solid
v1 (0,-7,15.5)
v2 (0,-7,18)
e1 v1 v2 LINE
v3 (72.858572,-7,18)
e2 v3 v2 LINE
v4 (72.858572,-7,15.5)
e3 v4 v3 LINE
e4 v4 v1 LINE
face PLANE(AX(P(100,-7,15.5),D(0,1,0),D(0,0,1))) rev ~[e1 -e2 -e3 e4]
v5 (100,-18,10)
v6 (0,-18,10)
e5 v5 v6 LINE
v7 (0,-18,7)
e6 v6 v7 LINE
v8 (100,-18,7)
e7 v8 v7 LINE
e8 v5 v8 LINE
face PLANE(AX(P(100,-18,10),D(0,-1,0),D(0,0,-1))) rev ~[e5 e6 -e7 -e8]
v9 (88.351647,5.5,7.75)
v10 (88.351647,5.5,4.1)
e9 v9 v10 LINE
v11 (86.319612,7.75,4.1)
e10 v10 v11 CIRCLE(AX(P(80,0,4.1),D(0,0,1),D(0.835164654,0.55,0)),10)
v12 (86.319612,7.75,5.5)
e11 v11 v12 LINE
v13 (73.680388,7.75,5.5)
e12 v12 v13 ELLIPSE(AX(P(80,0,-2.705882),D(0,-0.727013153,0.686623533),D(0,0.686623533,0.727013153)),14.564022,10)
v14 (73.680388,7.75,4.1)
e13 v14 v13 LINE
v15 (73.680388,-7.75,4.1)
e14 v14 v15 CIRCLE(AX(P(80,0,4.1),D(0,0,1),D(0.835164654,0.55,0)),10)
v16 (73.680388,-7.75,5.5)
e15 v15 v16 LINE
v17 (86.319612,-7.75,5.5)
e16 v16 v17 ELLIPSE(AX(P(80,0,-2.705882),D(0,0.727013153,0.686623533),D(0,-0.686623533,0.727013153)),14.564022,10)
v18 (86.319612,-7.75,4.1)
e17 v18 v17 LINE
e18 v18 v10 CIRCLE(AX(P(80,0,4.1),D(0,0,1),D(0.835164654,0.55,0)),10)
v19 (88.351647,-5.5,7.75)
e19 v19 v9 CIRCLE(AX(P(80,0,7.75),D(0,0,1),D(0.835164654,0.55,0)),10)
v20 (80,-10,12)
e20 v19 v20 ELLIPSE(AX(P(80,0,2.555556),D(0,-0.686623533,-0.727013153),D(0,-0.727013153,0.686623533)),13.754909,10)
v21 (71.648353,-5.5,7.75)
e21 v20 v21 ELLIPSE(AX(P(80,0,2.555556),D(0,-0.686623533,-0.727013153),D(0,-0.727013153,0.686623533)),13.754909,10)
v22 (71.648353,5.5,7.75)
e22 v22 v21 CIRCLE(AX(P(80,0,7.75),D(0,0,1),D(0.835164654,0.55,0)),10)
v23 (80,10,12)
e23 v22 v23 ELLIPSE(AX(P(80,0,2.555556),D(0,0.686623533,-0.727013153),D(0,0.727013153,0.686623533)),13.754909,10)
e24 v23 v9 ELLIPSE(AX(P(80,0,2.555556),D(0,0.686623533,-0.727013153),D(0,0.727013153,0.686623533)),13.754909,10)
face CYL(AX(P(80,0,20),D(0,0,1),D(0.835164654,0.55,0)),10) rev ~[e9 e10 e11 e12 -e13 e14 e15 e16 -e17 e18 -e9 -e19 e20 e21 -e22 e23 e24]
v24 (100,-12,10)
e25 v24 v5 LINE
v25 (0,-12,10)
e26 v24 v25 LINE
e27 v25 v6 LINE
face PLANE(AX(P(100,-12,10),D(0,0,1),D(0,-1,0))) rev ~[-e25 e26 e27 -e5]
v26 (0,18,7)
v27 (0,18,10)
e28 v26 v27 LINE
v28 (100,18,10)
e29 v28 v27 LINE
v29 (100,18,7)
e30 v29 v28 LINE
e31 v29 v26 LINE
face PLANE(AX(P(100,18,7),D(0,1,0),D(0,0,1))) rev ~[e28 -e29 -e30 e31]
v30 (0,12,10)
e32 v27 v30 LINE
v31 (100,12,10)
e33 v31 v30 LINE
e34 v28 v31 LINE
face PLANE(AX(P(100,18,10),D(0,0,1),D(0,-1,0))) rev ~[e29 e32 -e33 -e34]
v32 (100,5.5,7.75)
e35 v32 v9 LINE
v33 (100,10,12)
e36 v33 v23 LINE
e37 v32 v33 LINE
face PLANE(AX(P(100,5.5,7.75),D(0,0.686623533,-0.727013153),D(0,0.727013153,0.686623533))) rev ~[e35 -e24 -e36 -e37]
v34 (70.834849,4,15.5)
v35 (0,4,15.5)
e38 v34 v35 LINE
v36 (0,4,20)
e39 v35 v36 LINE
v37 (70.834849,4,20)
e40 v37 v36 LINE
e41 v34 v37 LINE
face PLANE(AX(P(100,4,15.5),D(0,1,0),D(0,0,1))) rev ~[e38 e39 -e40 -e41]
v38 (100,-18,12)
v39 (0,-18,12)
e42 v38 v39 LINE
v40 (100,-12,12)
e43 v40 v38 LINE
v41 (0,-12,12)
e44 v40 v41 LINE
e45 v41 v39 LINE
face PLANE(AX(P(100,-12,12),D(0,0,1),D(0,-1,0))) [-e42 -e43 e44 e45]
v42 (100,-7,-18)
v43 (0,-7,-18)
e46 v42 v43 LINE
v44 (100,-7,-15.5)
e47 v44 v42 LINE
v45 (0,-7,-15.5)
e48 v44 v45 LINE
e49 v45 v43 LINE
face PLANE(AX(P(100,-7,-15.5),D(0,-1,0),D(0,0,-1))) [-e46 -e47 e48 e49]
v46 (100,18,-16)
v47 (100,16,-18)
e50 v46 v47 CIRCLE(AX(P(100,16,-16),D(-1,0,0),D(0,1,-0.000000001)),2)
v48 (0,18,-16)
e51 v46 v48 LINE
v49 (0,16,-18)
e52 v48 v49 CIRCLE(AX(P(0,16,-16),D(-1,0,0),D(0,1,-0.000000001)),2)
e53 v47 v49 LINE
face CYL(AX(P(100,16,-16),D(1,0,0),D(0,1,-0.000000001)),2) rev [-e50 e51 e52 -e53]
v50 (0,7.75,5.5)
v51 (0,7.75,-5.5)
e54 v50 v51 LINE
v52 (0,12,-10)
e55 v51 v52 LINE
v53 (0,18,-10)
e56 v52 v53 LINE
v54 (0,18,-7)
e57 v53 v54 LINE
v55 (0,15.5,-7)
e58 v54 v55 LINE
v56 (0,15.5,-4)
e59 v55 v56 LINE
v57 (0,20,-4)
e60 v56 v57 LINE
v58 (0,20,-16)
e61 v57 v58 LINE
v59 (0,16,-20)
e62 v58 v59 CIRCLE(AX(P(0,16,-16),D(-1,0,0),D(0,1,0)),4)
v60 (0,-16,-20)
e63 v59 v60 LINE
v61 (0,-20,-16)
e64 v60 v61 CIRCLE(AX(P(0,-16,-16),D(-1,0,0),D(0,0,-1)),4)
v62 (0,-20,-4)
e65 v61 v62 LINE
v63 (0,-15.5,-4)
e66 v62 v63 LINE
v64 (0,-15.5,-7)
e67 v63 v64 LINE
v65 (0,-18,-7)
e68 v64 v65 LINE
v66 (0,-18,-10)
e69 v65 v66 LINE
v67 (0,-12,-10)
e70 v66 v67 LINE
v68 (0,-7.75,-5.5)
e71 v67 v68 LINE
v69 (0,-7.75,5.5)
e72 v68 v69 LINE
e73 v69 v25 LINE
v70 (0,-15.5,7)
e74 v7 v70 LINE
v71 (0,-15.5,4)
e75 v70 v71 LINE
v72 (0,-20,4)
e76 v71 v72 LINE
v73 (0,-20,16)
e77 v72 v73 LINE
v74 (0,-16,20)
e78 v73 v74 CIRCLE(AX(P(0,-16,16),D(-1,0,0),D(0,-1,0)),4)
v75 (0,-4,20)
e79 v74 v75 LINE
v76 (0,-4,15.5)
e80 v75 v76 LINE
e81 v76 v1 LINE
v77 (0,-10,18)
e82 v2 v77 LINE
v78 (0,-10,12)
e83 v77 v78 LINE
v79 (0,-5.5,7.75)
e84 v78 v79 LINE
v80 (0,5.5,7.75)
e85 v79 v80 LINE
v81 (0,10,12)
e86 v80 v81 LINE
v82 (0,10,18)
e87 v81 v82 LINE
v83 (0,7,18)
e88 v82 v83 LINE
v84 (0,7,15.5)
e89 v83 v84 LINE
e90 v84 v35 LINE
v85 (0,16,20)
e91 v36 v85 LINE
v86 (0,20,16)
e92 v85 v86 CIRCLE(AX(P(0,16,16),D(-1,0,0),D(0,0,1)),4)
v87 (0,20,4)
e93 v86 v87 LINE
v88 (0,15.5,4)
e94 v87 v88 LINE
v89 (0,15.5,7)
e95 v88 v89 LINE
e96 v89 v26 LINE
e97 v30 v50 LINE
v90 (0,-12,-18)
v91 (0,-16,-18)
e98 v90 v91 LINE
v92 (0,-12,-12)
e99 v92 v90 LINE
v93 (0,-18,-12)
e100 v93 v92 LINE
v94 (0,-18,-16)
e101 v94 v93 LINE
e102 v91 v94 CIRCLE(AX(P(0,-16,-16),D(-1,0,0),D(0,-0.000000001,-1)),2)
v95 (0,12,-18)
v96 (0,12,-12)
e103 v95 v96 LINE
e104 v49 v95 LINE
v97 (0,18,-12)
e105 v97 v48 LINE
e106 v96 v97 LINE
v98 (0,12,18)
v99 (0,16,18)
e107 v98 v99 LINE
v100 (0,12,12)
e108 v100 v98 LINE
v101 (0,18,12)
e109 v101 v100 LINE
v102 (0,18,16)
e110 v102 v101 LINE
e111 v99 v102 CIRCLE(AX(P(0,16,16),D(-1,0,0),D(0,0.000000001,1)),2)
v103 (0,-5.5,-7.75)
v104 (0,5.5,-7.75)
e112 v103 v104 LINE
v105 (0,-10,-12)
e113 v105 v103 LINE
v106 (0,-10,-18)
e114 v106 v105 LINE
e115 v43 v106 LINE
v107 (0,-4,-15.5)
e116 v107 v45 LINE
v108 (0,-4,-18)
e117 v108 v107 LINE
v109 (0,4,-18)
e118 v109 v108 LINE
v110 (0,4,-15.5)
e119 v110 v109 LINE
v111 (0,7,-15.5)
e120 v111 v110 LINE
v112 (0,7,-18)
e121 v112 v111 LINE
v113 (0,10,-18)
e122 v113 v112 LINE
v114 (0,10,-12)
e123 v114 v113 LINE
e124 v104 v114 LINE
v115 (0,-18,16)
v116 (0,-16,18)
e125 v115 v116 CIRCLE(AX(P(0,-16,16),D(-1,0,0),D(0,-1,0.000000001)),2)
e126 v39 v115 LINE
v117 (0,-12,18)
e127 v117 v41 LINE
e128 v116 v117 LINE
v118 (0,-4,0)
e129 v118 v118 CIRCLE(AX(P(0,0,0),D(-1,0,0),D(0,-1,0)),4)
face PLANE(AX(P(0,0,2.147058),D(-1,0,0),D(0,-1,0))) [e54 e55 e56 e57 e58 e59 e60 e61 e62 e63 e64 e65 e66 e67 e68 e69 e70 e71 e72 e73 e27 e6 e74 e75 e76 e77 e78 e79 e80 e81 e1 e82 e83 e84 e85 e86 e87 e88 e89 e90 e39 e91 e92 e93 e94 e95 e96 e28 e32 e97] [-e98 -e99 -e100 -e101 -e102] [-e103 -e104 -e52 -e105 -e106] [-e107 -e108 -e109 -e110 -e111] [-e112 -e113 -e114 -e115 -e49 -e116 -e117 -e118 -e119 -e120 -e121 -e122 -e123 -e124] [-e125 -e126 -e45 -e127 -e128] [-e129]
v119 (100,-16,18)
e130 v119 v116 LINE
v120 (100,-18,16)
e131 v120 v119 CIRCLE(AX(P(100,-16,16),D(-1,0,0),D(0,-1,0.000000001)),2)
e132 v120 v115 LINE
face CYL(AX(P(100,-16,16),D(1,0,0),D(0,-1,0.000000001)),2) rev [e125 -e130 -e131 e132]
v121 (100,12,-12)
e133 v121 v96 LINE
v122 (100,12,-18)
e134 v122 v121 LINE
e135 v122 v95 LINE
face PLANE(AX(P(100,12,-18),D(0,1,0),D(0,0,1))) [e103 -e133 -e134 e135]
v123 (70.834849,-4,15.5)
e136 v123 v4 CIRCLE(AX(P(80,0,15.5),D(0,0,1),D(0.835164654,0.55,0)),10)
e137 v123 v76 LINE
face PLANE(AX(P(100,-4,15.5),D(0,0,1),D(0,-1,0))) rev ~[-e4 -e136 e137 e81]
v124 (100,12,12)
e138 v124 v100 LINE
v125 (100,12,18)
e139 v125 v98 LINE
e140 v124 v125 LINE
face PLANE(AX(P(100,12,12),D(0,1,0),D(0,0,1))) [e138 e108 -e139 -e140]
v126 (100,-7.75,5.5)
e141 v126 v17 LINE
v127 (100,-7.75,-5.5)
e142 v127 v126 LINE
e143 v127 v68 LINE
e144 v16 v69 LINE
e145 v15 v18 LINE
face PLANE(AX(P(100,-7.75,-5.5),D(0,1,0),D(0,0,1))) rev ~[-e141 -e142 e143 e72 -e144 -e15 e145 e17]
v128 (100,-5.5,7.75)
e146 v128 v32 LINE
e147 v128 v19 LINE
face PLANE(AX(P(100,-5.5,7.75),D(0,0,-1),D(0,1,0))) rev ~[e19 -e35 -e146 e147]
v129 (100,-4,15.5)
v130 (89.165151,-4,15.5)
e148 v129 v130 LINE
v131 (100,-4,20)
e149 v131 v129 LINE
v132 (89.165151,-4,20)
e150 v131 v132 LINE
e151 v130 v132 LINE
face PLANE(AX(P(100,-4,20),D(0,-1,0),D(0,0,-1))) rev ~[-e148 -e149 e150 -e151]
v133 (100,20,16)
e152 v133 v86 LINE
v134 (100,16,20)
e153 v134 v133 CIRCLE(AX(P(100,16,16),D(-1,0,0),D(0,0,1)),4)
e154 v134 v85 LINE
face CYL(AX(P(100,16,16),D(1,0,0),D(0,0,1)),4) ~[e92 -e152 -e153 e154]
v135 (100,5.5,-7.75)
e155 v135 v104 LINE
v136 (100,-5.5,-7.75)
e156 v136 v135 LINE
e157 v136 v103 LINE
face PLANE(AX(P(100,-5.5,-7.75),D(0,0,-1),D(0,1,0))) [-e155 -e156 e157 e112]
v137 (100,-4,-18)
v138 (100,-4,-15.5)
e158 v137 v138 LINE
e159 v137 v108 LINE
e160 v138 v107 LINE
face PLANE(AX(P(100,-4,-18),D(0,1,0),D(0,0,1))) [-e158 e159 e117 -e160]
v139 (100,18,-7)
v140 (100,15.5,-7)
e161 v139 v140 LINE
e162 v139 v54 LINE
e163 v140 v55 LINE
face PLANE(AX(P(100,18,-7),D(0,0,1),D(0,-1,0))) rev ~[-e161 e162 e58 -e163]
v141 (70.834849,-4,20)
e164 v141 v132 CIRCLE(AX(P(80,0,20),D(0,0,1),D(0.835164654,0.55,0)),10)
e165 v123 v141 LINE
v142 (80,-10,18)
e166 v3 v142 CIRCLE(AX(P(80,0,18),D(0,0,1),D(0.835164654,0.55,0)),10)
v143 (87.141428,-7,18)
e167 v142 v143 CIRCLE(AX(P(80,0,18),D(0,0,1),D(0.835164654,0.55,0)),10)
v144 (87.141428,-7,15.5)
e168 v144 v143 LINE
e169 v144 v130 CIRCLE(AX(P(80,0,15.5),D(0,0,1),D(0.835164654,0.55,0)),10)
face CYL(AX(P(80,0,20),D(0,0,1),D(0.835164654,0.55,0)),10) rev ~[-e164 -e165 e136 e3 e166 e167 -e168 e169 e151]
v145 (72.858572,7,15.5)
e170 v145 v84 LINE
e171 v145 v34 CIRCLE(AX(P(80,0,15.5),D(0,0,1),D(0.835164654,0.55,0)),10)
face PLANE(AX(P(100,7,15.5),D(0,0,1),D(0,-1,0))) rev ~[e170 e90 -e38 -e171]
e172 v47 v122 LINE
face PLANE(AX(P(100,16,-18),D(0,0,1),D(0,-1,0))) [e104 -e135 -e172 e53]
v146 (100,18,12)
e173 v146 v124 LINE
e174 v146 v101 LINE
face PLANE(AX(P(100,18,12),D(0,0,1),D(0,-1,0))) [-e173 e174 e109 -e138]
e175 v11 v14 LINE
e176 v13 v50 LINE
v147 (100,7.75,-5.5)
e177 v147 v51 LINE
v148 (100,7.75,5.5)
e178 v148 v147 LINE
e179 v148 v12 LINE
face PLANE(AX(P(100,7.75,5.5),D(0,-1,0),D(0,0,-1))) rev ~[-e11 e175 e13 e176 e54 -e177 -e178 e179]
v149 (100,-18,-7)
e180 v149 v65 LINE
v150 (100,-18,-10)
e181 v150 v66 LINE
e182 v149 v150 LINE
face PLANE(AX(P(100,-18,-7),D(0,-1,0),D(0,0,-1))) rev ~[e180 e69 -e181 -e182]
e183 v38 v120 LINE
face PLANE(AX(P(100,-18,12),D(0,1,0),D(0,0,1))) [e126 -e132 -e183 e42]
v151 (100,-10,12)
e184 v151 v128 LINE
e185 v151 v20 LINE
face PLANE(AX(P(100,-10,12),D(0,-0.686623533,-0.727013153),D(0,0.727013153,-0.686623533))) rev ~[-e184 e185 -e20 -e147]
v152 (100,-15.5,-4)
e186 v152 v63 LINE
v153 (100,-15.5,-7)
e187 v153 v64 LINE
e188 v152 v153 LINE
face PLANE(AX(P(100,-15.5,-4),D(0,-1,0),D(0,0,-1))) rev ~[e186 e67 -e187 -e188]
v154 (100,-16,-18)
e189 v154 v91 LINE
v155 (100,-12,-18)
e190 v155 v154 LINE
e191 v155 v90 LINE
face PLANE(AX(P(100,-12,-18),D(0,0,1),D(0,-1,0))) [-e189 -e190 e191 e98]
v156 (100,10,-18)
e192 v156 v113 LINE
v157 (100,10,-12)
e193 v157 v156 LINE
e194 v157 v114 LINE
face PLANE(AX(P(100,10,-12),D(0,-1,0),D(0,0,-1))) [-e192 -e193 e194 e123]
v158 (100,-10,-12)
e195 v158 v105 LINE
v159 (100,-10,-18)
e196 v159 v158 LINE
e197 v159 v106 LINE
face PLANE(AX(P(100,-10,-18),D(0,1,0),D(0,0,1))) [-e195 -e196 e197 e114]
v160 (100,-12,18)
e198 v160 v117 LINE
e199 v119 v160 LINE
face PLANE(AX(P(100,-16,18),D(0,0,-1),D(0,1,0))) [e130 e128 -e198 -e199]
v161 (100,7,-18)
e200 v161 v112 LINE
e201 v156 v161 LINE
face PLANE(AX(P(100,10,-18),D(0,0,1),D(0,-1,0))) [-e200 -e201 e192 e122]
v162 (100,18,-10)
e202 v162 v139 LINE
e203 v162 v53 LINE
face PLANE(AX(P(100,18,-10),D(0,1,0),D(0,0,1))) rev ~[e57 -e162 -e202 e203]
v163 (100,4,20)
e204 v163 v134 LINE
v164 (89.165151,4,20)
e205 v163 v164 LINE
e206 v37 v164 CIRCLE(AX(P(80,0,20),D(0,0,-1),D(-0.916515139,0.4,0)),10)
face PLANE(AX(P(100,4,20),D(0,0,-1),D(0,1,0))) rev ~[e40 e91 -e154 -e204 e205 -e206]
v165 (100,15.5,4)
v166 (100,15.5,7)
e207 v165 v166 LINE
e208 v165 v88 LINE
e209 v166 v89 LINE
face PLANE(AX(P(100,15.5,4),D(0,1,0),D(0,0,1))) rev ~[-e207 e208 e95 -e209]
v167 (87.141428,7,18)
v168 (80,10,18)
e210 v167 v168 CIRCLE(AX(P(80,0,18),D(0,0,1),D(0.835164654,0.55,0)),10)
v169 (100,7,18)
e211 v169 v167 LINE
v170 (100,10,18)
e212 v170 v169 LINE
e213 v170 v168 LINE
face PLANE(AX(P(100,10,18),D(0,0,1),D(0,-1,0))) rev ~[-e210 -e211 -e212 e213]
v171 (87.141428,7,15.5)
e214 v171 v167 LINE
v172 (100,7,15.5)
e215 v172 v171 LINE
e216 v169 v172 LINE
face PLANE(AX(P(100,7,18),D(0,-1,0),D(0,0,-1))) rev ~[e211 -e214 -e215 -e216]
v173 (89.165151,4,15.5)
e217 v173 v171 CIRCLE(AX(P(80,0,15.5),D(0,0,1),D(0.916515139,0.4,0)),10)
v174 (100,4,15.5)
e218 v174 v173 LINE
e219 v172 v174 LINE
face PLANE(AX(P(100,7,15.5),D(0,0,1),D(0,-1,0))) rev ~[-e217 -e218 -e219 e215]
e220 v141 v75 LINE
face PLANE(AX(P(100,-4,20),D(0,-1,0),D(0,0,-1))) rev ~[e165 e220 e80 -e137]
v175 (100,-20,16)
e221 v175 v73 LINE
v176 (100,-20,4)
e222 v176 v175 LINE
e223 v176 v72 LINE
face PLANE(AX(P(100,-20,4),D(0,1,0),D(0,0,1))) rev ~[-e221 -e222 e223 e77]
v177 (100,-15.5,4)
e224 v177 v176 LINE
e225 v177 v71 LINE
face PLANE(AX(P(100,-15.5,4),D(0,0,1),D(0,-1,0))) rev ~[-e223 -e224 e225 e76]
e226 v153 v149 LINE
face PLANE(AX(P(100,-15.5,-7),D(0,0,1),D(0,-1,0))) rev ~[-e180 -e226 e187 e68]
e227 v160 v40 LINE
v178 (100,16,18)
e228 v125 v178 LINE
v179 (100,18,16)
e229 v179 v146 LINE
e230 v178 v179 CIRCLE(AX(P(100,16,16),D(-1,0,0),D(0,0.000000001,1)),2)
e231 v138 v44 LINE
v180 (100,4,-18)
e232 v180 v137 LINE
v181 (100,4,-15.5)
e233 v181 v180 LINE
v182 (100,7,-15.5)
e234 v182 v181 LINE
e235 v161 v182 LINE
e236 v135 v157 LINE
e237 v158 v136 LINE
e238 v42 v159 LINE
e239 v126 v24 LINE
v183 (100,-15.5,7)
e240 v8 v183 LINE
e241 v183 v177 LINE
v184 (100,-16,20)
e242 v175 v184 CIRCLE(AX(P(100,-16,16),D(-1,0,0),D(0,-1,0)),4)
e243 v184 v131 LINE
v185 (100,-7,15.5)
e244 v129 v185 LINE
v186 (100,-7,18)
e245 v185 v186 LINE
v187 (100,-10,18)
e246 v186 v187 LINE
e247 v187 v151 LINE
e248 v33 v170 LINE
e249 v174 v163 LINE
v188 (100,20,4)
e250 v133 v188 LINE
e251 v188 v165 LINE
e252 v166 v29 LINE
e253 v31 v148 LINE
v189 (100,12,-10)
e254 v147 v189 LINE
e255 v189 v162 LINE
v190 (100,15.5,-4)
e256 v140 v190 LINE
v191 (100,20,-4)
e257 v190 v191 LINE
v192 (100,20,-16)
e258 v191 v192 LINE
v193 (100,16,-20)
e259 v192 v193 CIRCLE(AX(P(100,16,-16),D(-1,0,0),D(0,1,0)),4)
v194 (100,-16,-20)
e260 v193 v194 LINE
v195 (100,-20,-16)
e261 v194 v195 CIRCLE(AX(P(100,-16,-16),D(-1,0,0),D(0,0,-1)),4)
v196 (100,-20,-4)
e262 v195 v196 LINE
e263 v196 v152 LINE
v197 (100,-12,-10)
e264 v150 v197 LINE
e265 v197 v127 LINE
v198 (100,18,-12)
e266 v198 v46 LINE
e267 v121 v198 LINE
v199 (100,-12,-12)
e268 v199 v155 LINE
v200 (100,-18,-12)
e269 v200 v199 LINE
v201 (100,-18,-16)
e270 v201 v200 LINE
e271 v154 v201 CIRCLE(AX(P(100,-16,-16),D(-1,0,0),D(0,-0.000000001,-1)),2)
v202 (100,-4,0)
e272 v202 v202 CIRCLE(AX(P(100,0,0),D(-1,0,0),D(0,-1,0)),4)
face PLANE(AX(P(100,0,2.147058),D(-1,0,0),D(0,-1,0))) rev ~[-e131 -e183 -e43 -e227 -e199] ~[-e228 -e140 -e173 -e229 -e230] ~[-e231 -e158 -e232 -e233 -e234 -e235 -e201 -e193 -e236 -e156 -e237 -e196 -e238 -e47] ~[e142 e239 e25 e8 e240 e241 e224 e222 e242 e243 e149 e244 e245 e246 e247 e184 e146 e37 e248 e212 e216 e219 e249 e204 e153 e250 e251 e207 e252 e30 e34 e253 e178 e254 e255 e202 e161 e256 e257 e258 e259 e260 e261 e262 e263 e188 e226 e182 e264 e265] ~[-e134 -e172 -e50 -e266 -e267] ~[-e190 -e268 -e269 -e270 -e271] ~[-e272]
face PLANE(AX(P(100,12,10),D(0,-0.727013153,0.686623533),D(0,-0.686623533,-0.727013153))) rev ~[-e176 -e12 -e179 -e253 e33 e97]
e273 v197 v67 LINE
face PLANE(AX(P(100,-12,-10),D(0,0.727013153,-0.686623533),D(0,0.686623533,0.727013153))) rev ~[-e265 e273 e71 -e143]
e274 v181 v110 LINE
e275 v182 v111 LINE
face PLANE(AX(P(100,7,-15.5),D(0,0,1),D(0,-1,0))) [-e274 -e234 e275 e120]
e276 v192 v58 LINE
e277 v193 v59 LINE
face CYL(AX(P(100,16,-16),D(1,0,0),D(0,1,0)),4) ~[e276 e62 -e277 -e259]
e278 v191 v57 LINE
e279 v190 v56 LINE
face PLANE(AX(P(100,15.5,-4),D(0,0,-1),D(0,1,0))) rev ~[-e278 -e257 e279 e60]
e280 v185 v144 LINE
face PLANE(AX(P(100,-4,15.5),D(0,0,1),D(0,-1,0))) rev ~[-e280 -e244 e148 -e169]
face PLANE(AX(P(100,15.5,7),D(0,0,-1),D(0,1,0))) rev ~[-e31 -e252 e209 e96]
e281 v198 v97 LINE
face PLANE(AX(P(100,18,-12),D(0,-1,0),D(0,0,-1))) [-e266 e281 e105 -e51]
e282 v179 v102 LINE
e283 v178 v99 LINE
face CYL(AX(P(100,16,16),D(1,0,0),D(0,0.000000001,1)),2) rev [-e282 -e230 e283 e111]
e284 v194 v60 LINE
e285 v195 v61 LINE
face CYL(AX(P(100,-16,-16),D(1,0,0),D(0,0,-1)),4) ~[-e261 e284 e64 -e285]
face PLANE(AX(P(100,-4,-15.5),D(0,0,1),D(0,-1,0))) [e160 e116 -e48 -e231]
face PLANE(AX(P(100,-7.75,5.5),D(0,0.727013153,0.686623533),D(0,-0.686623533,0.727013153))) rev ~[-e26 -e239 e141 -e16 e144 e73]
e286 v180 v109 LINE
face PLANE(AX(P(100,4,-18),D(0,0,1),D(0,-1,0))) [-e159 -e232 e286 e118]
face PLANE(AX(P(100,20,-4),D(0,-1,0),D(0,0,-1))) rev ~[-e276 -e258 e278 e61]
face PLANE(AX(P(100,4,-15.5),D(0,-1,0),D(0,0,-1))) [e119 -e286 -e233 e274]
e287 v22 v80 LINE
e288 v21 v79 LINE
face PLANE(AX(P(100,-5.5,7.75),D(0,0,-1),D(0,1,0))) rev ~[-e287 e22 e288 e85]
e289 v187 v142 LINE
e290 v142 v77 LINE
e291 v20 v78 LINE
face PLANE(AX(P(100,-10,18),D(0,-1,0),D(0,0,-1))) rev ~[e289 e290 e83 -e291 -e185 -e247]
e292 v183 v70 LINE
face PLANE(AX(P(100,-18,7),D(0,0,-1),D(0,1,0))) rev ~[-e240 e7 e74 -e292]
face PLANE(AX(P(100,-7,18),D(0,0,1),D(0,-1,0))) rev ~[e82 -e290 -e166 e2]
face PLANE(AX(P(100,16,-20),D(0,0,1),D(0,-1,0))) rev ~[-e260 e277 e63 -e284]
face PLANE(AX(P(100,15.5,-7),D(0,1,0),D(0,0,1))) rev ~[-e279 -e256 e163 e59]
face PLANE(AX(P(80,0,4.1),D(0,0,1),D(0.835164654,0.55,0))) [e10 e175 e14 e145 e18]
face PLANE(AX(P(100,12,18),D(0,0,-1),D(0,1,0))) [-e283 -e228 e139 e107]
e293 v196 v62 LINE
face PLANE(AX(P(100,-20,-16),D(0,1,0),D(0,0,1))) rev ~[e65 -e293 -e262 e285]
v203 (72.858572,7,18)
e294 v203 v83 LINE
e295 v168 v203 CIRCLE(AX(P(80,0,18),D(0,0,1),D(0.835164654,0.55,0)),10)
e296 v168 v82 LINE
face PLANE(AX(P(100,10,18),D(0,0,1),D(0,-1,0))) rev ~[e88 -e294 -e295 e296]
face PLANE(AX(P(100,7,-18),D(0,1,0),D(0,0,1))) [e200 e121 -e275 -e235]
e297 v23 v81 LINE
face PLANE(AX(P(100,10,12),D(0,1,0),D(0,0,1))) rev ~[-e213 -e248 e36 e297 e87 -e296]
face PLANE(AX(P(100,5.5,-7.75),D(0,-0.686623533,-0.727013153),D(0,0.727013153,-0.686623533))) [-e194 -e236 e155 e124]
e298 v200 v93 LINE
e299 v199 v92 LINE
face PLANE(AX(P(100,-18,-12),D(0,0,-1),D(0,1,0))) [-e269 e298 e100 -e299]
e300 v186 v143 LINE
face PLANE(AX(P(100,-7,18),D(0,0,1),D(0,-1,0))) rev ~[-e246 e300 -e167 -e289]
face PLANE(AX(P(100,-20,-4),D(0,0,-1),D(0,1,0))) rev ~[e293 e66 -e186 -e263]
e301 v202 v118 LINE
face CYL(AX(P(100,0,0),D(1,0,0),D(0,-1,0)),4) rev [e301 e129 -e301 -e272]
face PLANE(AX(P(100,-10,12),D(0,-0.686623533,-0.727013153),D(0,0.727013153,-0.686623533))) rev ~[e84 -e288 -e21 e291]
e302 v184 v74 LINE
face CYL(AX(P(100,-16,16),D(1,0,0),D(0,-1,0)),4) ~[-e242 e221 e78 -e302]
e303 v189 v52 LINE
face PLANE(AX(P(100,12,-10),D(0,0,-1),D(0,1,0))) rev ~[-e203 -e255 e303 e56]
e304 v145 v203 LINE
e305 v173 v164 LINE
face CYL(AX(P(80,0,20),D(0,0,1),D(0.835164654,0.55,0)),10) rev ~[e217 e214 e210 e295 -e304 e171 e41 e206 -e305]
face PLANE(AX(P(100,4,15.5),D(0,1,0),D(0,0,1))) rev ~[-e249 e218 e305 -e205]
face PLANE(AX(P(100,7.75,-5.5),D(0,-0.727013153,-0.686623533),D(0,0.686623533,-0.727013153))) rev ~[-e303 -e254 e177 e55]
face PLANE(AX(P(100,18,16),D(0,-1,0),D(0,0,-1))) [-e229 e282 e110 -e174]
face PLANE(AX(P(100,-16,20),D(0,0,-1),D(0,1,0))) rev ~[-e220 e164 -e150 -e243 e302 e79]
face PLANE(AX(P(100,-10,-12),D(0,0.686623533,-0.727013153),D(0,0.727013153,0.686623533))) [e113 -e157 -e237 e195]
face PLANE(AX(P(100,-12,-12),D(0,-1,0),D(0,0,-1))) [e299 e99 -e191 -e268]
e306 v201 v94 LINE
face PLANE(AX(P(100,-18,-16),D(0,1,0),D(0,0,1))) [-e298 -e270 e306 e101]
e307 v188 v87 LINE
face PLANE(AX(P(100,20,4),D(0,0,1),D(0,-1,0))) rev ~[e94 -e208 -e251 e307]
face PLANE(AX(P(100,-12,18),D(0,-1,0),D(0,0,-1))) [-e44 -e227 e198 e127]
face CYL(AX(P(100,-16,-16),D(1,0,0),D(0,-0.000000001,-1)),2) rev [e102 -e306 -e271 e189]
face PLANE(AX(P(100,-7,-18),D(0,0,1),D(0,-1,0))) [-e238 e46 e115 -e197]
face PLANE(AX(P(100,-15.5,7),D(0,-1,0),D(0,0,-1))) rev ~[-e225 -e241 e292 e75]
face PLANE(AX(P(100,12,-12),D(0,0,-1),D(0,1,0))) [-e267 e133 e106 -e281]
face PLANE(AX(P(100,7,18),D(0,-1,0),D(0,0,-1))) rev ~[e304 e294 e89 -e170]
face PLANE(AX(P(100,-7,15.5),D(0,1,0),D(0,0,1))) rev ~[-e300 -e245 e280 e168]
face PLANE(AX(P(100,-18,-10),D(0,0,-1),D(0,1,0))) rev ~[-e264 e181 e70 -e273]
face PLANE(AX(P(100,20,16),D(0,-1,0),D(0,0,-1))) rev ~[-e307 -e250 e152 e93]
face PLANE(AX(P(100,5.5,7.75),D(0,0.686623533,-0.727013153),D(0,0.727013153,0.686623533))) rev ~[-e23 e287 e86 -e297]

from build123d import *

# Parameters (mm, degrees)
SKIZZE11_R                     = 4
STRUKTURBAUTEIL1_DEPTH         = 100
SKIZZE2_R                      = 10
SCHNITT_LINEAR_AUSTRAGEN_DEPTH = 15.9


with BuildPart() as part:
    # Skizze11 → Strukturbauteil1 (new body)
    with BuildSketch(Plane(origin=(100, 0, 0), x_dir=(0, -1, 0), z_dir=(-1, 0, 0))):
        with BuildLine():
            Line((16, 20), (4, 20))
            Line((4, 20), (4, 15.5))
            Line((4, 15.5), (7, 15.5))
            Line((7, 15.5), (7, 18))
            Line((7, 18), (10, 18))
            Line((10, 18), (10, 12))
            Line((10, 12), (5.5, 7.75))
            Line((5.5, 7.75), (-5.5, 7.75))
            Line((-5.5, 7.75), (-10, 12))
            Line((-10, 12), (-10, 18))
            Line((-10, 18), (-7, 18))
            Line((-7, 18), (-7, 15.5))
            Line((-7, 15.5), (-4, 15.5))
            Line((-4, 15.5), (-4, 20))
            Line((-4, 20), (-16, 20))
            ThreePointArc((-16, 20), (-18.828427125, 18.828427125), (-20, 16))
            Line((-20, 16), (-20, 4))
            Line((-20, 4), (-15.5, 4))
            Line((-15.5, 4), (-15.5, 7))
            Line((-15.5, 7), (-18, 7))
            Line((-18, 7), (-18, 10))
            Line((-18, 10), (-12, 10))
            Line((-12, 10), (-7.75, 5.5))
            Line((-7.75, 5.5), (-7.75, -5.5))
            Line((-7.75, -5.5), (-12, -10))
            Line((-12, -10), (-18, -10))
            Line((-18, -10), (-18, -7))
            Line((-18, -7), (-15.5, -7))
            Line((-15.5, -7), (-15.5, -4))
            Line((-15.5, -4), (-20, -4))
            Line((-20, -4), (-20, -16))
            ThreePointArc((-20, -16), (-18.828427125, -18.828427125), (-16, -20))
            Line((-16, -20), (16, -20))
            ThreePointArc((16, -20), (18.828427125, -18.828427125), (20, -16))
            Line((20, -16), (20, -4))
            Line((20, -4), (15.5, -4))
            Line((15.5, -4), (15.5, -7))
            Line((15.5, -7), (18, -7))
            Line((18, -7), (18, -10))
            Line((18, -10), (12, -10))
            Line((12, -10), (7.75, -5.5))
            Line((7.75, -5.5), (7.75, 5.5))
            Line((7.75, 5.5), (12, 10))
            Line((12, 10), (18, 10))
            Line((18, 10), (18, 7))
            Line((18, 7), (15.5, 7))
            Line((15.5, 7), (15.5, 4))
            Line((15.5, 4), (20, 4))
            Line((20, 4), (20, 16))
            ThreePointArc((20, 16), (18.828427125, 18.828427125), (16, 20))
        make_face()
        Circle(SKIZZE11_R, mode=Mode.SUBTRACT)
        with BuildLine():
            Line((12, 18), (12, 12))
            Line((12, 12), (18, 12))
            Line((18, 12), (18, 16))
            ThreePointArc((18, 16), (17.414213562, 17.414213562), (16, 18))
            Line((16, 18), (12, 18))
        make_face(mode=Mode.SUBTRACT)
        with BuildLine():
            Line((-18, 12), (-12, 12))
            Line((-12, 12), (-12, 18))
            Line((-12, 18), (-16, 18))
            ThreePointArc((-16, 18), (-17.414213562, 17.414213562), (-18, 16))
            Line((-18, 16), (-18, 12))
        make_face(mode=Mode.SUBTRACT)
        Polygon((-4, -18), (4, -18), (4, -15.5), (7, -15.5), (7, -18), (10, -18), (10, -12), (5.5, -7.75), (-5.5, -7.75), (-10, -12), (-10, -18), (-7, -18), (-7, -15.5), (-4, -15.5), align=None, mode=Mode.SUBTRACT)
        with BuildLine():
            Line((18, -12), (12, -12))
            Line((12, -12), (12, -18))
            Line((12, -18), (16, -18))
            ThreePointArc((16, -18), (17.414213562, -17.414213562), (18, -16))
            Line((18, -16), (18, -12))
        make_face(mode=Mode.SUBTRACT)
        with BuildLine():
            Line((-12, -18), (-12, -12))
            Line((-12, -12), (-18, -12))
            Line((-18, -12), (-18, -16))
            ThreePointArc((-18, -16), (-17.414213562, -17.414213562), (-16, -18))
            Line((-16, -18), (-12, -18))
        make_face(mode=Mode.SUBTRACT)
    extrude(amount=STRUKTURBAUTEIL1_DEPTH)

    # Skizze2 → Schnitt-Linear austragen (cut)
    with BuildSketch(Plane(origin=(60.206991795, 21.446159487, 20), x_dir=(1, 0, 0), z_dir=(0, 0, 1))):
        with Locations(Location((19.793008205, -21.446159487, 0), (0, 0, 33.367012969))):  # turned: the seam where the file's is
            Circle(SKIZZE2_R)
    extrude(amount=-SCHNITT_LINEAR_AUSTRAGEN_DEPTH, mode=Mode.SUBTRACT)


solid = part.part
